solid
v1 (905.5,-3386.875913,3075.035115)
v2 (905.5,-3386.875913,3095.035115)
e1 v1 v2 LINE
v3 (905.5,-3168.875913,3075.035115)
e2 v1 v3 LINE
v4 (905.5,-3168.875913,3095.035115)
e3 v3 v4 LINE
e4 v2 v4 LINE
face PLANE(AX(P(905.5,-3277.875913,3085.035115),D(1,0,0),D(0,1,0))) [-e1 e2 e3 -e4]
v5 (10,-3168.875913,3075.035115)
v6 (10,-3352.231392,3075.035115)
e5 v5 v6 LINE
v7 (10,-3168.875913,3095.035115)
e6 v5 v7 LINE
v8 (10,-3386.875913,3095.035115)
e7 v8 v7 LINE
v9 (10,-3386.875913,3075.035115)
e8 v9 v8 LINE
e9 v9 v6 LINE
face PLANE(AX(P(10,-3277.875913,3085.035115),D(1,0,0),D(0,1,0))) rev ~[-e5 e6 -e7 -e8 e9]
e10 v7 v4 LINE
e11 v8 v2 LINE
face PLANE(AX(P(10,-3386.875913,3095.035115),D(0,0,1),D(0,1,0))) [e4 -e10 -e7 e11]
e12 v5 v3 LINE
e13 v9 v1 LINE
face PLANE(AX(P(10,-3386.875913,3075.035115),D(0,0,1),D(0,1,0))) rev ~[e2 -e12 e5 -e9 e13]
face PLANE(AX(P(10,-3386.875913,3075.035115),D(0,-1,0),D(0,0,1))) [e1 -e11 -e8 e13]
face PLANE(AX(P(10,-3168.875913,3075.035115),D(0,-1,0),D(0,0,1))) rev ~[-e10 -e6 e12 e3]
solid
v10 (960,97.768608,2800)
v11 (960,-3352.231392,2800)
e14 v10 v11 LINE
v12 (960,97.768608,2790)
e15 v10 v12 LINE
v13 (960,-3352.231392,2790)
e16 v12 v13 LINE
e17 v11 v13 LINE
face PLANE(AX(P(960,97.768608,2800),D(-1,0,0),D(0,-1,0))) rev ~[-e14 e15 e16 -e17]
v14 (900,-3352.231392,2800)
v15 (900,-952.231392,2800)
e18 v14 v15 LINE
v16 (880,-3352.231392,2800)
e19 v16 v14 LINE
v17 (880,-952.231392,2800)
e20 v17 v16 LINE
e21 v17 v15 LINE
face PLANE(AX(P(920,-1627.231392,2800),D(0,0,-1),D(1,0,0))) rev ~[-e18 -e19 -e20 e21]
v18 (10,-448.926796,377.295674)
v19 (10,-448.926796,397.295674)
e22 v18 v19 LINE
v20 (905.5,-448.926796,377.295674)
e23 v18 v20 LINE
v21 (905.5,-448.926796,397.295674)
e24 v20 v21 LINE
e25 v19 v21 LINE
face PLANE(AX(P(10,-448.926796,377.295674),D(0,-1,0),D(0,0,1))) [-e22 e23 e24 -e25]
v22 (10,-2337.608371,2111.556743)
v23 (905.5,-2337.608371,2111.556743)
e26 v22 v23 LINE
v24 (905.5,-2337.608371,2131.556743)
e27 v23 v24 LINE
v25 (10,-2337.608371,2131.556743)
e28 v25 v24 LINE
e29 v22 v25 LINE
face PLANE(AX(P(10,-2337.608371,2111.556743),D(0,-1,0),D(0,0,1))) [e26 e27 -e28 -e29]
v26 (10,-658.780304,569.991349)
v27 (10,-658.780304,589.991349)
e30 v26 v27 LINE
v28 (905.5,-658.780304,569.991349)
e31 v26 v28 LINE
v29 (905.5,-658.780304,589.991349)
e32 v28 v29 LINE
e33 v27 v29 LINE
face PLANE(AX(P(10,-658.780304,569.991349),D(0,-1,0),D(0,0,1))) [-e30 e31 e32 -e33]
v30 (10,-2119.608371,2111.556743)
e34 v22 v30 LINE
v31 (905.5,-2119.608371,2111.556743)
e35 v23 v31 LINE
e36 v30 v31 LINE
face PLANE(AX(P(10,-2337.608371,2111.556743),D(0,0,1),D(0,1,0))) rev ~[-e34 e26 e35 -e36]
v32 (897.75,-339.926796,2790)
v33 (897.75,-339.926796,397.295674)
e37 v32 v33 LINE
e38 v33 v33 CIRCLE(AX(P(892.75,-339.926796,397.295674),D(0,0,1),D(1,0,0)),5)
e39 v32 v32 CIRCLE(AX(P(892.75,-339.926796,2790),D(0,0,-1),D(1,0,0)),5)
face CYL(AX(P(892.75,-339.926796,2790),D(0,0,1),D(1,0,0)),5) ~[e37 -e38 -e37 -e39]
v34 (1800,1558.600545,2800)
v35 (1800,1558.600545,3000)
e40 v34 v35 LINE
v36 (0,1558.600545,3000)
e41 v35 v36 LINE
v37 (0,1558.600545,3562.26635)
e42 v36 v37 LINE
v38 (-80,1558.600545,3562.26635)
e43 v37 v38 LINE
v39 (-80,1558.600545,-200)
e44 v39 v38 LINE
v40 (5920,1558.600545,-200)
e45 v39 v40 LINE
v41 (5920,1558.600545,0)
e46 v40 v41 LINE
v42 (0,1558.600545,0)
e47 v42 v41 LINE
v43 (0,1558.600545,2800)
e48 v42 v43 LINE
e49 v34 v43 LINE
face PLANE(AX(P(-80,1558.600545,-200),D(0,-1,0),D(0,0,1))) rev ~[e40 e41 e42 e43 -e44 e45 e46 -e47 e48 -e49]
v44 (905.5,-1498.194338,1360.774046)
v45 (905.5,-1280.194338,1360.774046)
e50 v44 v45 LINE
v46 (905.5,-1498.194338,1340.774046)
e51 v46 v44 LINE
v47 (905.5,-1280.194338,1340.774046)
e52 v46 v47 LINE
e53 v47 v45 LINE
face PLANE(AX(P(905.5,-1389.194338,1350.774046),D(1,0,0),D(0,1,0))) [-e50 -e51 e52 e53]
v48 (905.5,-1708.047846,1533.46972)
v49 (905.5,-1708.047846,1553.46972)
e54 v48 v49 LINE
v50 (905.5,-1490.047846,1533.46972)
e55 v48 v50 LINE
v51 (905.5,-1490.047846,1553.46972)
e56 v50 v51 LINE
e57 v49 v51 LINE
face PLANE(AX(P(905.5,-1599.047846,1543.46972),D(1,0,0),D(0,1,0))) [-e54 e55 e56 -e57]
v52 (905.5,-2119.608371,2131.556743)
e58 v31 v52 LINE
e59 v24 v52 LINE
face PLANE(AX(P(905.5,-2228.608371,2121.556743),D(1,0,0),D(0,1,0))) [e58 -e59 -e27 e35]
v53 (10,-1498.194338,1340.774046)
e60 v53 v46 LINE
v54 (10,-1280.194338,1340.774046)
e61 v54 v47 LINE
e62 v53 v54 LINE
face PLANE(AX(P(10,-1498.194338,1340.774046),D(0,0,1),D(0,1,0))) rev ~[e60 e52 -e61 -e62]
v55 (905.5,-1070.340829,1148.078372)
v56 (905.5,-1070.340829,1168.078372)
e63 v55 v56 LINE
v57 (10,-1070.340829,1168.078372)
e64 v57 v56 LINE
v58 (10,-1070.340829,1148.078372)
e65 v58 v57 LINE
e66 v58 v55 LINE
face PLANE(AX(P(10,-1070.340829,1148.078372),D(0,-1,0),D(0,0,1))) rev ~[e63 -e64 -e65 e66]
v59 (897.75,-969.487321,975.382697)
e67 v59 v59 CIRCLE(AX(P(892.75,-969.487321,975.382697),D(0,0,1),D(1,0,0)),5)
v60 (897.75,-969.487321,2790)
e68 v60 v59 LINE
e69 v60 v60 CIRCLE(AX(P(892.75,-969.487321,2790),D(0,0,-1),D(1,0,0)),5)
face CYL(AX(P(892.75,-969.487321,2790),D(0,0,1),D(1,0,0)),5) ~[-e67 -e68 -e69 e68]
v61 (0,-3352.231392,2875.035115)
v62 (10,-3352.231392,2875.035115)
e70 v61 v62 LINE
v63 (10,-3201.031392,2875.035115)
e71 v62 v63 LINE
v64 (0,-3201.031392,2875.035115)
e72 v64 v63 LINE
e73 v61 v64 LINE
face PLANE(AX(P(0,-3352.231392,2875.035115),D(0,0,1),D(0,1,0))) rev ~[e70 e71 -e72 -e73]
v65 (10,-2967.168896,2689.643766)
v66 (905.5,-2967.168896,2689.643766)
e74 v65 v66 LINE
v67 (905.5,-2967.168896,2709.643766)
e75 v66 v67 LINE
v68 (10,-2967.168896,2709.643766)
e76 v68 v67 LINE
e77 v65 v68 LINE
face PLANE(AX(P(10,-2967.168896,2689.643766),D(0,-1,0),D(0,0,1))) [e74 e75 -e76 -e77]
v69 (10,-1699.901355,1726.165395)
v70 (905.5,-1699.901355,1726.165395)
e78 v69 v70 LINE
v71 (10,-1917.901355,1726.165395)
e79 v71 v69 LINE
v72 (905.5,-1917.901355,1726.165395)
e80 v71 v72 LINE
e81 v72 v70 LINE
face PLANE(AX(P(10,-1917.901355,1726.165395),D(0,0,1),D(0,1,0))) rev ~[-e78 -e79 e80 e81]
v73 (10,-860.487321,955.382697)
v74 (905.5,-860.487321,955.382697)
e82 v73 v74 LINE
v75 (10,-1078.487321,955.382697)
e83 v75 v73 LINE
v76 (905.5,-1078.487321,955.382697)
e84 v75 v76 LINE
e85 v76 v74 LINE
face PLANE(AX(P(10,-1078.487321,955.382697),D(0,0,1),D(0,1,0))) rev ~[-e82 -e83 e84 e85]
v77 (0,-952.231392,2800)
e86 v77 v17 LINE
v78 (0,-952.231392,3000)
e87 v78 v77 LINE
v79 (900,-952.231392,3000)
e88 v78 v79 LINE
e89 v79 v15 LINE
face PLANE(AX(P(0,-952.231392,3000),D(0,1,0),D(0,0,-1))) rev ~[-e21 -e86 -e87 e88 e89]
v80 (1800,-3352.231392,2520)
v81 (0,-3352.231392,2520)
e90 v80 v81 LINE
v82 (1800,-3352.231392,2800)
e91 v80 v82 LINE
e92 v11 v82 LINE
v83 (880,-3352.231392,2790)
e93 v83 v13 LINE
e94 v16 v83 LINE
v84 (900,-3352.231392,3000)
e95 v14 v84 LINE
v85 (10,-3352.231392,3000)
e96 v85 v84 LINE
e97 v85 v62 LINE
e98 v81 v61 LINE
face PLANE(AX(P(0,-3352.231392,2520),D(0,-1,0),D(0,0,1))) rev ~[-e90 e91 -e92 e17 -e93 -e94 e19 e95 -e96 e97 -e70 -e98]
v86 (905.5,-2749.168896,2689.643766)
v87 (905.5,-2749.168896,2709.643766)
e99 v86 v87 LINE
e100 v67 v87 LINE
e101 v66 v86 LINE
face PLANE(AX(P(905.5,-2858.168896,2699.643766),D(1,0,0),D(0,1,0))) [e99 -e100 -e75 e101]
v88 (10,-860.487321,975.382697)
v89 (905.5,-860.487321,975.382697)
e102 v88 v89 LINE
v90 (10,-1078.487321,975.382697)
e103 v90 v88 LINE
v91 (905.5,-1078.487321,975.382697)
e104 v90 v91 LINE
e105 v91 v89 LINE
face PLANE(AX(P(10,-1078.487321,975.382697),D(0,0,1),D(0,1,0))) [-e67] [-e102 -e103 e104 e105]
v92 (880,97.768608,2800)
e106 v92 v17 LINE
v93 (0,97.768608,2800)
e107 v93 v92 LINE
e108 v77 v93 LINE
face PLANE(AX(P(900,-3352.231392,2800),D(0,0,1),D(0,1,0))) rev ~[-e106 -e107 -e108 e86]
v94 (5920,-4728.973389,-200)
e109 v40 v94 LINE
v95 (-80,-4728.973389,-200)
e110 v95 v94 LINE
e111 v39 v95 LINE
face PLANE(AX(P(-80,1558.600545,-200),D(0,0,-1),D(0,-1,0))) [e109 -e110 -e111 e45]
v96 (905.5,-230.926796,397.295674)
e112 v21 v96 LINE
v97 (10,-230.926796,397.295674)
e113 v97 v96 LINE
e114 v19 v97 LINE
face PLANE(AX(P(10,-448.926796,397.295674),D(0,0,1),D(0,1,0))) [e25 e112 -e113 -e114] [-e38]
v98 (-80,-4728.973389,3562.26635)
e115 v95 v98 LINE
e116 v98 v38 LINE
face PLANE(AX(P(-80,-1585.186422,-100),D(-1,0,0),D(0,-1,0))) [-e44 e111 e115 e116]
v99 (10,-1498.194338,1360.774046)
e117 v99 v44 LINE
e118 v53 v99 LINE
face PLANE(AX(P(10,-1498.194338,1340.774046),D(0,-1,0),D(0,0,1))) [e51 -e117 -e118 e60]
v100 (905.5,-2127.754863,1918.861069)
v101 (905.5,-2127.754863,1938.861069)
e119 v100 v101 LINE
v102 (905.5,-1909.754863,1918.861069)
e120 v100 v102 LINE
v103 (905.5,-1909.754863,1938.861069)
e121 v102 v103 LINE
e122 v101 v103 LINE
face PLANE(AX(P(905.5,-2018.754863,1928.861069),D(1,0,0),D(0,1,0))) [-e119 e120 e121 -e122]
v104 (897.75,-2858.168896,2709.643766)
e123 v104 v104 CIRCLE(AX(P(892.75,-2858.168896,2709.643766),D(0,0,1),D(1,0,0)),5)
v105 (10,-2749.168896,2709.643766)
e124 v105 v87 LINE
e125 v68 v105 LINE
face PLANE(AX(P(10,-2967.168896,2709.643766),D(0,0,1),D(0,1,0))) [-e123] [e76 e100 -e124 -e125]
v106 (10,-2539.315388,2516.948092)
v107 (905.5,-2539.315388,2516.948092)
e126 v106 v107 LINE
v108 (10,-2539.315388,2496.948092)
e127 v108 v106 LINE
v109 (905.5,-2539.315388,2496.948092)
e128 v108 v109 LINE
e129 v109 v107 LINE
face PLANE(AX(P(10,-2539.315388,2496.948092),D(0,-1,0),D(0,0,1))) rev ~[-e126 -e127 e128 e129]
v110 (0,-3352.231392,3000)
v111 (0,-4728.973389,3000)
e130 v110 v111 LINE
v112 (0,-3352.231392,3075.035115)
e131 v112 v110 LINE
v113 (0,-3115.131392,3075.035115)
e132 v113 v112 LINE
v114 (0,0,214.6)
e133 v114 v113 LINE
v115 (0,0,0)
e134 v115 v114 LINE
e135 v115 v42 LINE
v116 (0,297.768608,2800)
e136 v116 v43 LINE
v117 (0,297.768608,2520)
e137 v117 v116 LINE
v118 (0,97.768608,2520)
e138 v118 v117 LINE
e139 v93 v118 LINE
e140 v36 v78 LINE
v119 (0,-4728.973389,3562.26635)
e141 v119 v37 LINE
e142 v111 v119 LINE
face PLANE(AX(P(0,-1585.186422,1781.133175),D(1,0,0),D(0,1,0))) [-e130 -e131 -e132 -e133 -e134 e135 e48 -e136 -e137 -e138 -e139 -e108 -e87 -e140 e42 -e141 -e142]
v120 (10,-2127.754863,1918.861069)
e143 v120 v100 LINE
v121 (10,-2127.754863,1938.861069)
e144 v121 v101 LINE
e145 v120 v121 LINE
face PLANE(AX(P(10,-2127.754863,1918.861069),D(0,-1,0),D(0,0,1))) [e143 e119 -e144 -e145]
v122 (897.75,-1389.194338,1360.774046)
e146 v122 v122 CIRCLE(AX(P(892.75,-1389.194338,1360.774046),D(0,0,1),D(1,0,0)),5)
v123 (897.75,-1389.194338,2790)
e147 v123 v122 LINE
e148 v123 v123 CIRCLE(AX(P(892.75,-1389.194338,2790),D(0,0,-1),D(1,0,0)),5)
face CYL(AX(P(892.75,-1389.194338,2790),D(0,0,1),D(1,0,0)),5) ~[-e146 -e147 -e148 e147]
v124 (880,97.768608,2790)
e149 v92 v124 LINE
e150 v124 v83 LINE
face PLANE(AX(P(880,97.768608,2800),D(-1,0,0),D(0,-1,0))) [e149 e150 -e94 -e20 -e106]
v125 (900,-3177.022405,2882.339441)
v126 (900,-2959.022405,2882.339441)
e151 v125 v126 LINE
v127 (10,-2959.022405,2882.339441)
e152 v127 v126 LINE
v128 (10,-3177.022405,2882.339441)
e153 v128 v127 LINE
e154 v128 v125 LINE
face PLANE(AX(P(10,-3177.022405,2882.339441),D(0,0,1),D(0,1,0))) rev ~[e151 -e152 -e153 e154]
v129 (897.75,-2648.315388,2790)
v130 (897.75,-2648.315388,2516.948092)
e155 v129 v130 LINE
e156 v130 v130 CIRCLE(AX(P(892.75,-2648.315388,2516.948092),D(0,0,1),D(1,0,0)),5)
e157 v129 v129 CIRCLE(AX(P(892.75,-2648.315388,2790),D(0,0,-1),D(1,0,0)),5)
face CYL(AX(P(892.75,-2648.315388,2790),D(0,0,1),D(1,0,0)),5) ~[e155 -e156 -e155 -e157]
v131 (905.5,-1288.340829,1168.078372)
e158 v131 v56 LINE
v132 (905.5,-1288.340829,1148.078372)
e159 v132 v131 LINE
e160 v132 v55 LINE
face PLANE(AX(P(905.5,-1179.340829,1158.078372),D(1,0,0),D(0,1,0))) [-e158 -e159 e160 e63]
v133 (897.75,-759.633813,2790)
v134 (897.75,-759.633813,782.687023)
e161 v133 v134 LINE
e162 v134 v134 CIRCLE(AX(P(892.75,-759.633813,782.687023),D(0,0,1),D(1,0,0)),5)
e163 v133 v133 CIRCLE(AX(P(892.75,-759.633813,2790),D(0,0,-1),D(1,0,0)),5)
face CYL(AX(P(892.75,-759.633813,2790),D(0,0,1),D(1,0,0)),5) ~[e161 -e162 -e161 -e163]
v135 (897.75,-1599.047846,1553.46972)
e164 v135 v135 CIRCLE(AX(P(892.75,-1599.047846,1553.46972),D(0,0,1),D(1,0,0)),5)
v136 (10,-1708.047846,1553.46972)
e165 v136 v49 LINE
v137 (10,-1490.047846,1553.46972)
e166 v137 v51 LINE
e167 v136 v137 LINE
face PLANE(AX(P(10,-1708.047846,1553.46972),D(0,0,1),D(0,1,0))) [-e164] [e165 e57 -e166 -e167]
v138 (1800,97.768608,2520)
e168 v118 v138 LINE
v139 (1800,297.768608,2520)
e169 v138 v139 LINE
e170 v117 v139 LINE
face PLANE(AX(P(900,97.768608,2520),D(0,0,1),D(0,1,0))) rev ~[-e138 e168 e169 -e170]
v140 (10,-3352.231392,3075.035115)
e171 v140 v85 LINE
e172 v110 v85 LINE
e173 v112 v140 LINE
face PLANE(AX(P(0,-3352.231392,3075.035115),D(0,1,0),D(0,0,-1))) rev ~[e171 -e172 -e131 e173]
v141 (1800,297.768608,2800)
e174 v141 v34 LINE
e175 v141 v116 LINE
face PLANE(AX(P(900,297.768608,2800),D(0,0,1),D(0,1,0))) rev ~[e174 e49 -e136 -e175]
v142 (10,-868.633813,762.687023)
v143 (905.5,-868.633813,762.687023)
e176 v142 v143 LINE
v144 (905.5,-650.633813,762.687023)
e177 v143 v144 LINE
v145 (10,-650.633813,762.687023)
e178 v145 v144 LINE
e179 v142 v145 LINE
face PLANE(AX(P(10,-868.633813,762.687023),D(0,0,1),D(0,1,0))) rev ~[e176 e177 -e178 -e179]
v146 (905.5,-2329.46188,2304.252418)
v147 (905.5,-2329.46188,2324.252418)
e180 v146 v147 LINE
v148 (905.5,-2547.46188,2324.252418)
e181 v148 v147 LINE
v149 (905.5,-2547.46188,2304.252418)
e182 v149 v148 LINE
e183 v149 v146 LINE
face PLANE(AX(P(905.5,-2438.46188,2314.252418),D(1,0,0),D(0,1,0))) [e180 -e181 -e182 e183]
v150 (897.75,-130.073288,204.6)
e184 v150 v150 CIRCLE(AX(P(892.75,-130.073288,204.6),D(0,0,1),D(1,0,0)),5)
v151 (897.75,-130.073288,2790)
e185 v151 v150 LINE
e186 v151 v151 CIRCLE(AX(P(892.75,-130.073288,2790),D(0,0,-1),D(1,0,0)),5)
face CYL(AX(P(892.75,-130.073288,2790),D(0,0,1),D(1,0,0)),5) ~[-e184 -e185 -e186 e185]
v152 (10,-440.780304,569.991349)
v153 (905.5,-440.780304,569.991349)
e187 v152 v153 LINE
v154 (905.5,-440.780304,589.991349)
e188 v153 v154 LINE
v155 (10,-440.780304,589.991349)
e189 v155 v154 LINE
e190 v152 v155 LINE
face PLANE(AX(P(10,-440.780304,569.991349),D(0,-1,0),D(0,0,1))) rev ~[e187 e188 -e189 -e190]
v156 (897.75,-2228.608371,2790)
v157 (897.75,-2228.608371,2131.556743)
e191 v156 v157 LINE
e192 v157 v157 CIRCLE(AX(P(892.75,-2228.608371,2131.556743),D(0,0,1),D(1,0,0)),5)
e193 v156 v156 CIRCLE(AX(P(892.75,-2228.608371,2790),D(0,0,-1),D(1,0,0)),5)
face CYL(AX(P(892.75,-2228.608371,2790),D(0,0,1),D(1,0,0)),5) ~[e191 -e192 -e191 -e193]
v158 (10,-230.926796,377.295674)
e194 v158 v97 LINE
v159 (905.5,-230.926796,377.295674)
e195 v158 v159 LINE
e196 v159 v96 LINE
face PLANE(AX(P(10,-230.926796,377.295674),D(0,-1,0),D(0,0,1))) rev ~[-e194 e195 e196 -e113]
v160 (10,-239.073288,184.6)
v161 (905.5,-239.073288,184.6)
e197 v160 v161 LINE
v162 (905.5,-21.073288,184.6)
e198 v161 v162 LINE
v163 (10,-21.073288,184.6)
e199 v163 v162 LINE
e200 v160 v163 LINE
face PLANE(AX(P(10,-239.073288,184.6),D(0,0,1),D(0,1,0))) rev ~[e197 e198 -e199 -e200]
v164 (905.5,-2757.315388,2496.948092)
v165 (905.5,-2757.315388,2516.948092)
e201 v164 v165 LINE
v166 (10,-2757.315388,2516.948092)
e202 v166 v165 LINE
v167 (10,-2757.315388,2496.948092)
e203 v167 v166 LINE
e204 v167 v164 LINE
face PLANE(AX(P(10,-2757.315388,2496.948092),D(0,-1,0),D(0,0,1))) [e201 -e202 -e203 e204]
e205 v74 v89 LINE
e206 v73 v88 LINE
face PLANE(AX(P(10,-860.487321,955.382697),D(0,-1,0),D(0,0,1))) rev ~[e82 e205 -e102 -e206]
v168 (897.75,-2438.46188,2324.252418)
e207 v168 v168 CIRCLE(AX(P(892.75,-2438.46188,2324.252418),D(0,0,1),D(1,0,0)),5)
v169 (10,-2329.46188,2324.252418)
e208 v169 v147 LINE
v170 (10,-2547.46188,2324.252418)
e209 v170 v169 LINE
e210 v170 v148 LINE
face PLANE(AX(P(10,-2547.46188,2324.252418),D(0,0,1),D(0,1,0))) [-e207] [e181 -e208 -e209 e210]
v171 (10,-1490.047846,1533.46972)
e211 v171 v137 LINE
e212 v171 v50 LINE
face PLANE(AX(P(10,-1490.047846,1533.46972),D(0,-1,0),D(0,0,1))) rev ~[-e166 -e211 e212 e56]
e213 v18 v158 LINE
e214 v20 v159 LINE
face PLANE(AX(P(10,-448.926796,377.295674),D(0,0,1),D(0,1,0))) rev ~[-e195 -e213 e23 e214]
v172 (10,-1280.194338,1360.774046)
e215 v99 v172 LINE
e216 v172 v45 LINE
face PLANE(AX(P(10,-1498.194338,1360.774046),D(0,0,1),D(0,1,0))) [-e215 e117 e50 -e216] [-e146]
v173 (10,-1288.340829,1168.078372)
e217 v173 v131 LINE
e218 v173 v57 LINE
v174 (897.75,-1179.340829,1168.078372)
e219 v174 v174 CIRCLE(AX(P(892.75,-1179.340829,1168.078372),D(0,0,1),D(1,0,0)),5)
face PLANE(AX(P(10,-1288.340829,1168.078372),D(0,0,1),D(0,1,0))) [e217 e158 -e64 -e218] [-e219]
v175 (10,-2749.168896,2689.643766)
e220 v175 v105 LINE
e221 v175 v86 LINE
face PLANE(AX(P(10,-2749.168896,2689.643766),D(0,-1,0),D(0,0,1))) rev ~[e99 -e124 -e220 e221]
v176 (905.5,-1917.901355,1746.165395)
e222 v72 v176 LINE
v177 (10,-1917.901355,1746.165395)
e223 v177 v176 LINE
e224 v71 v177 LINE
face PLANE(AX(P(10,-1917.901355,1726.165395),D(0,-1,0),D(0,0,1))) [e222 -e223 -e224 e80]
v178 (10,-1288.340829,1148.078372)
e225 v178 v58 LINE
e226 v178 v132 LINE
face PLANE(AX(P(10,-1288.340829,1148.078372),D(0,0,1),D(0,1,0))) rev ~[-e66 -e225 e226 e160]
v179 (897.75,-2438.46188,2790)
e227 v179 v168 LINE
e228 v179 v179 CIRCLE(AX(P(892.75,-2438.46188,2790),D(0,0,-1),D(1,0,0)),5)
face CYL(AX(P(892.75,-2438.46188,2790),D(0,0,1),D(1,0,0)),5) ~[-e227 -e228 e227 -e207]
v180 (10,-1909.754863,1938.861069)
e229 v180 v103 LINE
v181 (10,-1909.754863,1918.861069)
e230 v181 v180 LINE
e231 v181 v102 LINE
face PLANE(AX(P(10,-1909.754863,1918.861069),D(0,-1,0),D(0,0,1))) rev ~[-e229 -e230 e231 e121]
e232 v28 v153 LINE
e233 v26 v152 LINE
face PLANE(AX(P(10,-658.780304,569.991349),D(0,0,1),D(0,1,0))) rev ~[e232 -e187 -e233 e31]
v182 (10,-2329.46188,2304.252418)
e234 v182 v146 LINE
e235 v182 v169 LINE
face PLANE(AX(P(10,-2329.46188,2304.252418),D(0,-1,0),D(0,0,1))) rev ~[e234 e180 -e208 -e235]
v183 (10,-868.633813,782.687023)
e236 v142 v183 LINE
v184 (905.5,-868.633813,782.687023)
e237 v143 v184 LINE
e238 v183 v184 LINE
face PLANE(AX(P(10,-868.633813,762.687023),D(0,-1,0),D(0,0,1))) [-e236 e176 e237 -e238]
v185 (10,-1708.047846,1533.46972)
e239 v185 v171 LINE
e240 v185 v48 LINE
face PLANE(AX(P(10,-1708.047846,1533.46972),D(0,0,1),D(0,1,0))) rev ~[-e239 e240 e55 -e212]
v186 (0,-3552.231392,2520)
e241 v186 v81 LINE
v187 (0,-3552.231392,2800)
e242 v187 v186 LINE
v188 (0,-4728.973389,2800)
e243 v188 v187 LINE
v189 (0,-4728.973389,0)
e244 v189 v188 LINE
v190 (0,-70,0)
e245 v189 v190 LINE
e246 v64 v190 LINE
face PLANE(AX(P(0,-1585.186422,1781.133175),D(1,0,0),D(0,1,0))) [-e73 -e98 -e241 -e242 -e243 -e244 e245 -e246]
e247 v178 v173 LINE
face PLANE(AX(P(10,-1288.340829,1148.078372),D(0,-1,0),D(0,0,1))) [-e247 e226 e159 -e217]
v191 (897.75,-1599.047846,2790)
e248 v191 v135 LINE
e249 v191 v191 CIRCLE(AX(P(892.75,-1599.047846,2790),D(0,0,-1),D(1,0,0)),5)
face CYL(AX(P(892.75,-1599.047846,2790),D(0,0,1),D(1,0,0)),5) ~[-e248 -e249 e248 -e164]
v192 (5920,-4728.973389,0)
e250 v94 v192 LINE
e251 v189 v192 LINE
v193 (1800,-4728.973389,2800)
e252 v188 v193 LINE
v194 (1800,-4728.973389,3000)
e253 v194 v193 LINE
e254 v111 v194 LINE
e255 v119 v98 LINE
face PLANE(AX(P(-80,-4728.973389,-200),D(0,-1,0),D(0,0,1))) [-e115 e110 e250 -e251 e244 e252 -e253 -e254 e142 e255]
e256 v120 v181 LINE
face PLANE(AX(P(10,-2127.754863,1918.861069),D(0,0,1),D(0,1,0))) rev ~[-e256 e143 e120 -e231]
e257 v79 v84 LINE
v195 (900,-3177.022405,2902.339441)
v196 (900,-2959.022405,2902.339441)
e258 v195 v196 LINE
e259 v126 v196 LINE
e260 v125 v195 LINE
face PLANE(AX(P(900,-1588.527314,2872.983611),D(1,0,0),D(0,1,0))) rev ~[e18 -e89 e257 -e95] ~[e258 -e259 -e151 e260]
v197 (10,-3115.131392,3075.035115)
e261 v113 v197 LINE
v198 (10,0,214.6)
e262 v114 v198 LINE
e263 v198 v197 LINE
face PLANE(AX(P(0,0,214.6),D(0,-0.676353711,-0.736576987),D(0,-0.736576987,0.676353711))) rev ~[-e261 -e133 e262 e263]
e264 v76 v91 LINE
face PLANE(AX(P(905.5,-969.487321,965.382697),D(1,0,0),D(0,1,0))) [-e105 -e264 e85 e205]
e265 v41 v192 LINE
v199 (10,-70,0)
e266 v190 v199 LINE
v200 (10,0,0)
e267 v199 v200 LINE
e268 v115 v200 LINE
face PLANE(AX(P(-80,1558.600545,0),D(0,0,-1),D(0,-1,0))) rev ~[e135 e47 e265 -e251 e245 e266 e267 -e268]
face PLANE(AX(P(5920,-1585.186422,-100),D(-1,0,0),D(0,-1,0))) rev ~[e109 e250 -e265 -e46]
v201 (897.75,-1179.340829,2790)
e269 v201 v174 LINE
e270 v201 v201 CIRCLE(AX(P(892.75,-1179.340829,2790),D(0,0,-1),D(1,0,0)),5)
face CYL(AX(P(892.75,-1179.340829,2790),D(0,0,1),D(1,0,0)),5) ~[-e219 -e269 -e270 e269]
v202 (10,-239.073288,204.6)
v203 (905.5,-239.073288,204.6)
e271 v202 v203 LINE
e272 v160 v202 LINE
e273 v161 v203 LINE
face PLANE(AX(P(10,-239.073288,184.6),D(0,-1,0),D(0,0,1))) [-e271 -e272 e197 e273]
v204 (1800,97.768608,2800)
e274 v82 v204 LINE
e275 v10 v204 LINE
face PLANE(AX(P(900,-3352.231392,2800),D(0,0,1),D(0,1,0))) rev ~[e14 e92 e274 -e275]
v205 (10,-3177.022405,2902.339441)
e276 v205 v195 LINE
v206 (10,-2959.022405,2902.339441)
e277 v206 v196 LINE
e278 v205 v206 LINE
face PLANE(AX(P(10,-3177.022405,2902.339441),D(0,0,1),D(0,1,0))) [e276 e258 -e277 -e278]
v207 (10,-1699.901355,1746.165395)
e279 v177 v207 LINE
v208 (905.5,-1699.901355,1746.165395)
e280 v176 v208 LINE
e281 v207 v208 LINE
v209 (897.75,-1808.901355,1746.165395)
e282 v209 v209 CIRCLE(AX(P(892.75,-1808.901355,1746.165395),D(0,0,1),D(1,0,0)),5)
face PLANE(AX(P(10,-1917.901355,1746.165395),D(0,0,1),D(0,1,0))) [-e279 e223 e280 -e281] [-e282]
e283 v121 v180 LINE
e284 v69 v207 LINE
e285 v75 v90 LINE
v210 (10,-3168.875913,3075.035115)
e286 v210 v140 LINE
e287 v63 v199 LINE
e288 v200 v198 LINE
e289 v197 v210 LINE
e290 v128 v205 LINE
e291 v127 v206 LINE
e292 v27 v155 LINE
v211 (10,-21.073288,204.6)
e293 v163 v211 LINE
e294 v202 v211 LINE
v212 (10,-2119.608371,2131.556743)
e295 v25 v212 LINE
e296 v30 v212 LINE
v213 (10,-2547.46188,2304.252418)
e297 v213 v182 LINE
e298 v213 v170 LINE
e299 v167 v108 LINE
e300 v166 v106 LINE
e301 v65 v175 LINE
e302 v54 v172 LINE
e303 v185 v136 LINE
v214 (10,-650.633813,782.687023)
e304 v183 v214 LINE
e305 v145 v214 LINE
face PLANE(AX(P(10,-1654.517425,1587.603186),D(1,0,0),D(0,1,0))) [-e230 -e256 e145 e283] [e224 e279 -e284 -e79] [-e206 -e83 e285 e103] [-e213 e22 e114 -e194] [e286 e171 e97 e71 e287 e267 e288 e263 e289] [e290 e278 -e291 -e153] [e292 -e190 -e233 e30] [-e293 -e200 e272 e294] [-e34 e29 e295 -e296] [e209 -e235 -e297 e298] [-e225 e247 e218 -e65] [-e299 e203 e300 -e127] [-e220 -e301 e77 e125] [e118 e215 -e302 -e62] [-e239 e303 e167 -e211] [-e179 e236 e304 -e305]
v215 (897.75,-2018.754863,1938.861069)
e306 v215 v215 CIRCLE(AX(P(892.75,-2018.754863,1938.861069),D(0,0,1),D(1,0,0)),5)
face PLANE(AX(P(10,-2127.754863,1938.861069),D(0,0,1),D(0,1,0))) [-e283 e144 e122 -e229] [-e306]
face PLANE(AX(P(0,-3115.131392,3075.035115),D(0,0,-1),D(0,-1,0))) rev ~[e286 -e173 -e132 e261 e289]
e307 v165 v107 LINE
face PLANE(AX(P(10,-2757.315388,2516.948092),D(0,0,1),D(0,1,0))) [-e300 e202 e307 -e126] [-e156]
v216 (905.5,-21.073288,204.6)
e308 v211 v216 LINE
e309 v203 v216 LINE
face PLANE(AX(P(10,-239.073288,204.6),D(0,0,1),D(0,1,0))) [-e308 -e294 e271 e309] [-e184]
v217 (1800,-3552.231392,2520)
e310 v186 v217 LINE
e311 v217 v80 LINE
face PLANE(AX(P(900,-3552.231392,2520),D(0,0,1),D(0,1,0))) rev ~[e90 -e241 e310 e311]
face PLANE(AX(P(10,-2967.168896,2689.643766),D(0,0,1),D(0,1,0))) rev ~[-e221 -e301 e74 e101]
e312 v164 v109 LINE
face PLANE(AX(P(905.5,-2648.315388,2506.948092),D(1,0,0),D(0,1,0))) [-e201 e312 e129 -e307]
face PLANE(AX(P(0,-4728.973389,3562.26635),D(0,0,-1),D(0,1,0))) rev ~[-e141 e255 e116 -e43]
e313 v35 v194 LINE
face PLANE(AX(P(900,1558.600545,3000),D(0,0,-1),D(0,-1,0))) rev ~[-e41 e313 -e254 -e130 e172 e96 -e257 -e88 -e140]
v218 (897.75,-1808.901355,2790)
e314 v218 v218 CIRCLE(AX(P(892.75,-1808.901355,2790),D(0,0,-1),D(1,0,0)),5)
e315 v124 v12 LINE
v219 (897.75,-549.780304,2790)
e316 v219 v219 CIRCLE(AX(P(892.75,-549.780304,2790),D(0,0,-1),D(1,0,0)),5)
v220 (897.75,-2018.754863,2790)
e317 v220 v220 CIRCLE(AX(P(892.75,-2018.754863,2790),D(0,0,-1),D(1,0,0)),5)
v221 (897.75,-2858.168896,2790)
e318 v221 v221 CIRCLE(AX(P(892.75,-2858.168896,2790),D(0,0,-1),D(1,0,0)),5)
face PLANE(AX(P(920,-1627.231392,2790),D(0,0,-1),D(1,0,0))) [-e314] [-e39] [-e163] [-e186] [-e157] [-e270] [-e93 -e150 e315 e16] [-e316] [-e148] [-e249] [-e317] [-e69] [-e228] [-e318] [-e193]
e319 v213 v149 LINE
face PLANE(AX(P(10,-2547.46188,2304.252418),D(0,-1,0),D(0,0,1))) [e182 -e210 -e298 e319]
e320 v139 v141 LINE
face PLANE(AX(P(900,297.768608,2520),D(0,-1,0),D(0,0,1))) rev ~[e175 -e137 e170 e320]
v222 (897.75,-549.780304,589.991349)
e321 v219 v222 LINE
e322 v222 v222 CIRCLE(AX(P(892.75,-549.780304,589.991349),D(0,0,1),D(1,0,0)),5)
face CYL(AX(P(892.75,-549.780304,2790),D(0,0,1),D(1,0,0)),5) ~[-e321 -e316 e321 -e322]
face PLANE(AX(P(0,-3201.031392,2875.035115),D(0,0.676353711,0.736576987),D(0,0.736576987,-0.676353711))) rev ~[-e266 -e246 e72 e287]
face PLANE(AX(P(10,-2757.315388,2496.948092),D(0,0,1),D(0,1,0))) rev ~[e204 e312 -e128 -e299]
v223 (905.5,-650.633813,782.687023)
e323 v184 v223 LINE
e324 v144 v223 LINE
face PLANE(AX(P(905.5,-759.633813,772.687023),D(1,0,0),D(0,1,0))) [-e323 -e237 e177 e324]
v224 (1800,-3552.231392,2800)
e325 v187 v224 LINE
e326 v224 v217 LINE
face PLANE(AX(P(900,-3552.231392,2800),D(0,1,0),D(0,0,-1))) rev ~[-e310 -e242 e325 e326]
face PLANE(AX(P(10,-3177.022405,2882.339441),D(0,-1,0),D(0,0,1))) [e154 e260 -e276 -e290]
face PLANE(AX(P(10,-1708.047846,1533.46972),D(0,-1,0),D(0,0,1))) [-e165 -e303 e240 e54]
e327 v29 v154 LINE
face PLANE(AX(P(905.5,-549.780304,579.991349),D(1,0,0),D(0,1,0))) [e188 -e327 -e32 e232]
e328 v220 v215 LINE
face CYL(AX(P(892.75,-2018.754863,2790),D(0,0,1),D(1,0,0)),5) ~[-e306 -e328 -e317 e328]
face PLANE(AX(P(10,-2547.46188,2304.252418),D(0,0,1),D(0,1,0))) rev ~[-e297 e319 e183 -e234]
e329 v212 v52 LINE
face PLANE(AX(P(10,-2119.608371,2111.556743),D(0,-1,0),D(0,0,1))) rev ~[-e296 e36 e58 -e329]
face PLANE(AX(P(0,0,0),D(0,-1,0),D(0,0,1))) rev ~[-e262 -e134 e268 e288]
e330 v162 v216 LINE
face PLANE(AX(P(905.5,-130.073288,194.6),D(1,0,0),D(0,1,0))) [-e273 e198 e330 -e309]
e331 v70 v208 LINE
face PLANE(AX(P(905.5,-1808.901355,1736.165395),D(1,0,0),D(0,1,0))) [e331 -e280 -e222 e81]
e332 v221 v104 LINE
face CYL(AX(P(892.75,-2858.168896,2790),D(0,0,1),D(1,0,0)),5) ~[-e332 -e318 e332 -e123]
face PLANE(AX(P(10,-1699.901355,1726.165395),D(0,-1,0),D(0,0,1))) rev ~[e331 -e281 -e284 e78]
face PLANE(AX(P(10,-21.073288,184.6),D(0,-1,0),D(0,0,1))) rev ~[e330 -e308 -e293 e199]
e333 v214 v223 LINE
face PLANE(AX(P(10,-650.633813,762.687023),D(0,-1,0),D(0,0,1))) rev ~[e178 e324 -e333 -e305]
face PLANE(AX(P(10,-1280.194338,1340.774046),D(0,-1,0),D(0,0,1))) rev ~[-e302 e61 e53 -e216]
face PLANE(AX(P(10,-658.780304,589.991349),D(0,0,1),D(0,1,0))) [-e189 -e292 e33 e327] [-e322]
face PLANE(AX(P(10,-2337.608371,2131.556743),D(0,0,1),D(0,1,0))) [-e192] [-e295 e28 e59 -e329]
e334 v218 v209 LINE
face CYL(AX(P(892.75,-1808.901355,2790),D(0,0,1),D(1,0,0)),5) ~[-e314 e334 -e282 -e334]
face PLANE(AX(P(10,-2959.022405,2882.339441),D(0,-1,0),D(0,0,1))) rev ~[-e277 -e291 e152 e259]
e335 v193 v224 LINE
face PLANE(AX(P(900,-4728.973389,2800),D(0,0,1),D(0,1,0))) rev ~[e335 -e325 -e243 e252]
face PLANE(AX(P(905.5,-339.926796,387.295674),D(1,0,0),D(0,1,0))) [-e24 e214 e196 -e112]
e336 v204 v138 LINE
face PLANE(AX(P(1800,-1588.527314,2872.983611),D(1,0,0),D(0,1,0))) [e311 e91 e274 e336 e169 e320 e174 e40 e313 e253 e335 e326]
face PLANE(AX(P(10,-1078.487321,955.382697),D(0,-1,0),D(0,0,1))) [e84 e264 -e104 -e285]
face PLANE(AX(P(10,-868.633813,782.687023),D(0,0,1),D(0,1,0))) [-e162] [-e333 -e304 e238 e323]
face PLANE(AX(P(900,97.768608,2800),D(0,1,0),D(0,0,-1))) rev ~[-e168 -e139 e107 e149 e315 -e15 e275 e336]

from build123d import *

# Parameters (mm, degrees)
F1_DEPTH  = 10
F2_W      = 6287.5739336014
F2_H      = 3562.2663497925
F3_DEPTH  = 80
F5_W      = 218
F5_H      = 20
F6_DEPTH  = 895.5
F8_DEPTH  = 900
F10_DEPTH = 900
F11_W     = 80
F11_H     = 3450
F12_DEPTH = 10
F13_R     = 5
F15_W     = 6287.5739336014
F15_H     = 200
F16_DEPTH = 6000


with BuildPart() as f1:
    # F0 (on Right) → F1 (new body)
    with BuildSketch(Plane.YZ):
        Polygon((-3352.2313924666, 2875.0351150951), (-3201.0313924666, 2875.0351150951), (-70, 0), (0, 0), (0, 214.6), (-3115.1313924666, 3075.0351150951), (-3352.2313924666, 3075.0351150951), align=None)
    extrude(amount=F1_DEPTH)

    # F2 (on Right) → F3 (join)
    with BuildSketch(Plane.YZ):
        with Locations((-1585.1864218712, 1781.1331748962)):
            Rectangle(F2_W, F2_H)
    extrude(amount=-F3_DEPTH)

    # F5 (on face) → F6 (join)
    with BuildSketch(Plane.YZ.offset(10)):
        with Locations((-130.0732876712, 194.6)):
            Rectangle(F5_W, F5_H)
        with Locations((-339.9267960275, 387.2956743397)):
            Rectangle(F5_W, F5_H)
        with Locations((-549.7803043837, 579.9913486793)):
            Rectangle(F5_W, F5_H)
        with Locations((-759.6338127399, 772.687023019)):
            Rectangle(F5_W, F5_H)
        with Locations((-969.4873210961, 965.3826973587)):
            Rectangle(F5_W, F5_H)
        with Locations((-1179.3408294523, 1158.0783716984)):
            Rectangle(F5_W, F5_H)
        with Locations((-1389.1943378086, 1350.774046038)):
            Rectangle(F5_W, F5_H)
        with Locations((-1599.0478461648, 1543.4697203777)):
            Rectangle(F5_W, F5_H)
        with Locations((-1808.901354521, 1736.1653947174)):
            Rectangle(F5_W, F5_H)
        with Locations((-2018.7548628772, 1928.8610690571)):
            Rectangle(F5_W, F5_H)
        with Locations((-2228.6083712334, 2121.5567433967)):
            Rectangle(F5_W, F5_H)
        with Locations((-2438.4618795897, 2314.2524177364)):
            Rectangle(F5_W, F5_H)
        with Locations((-2648.3153879459, 2506.9480920761)):
            Rectangle(F5_W, F5_H)
        with Locations((-2858.1688963021, 2699.6437664158)):
            Rectangle(F5_W, F5_H)
        with Locations((-3068.0224046583, 2892.3394407554)):
            Rectangle(F5_W, F5_H)
        with Locations((-3277.8759130145, 3085.0351150951)):
            Rectangle(F5_W, F5_H)
    extrude(amount=F6_DEPTH)

    # F7 (on face) → F8 (join)
    with BuildSketch(Plane.YZ):
        Polygon((-3352.2313924666, 3000), (-4728.9733886719, 3000), (-4728.9733886719, 2800), (-3552.2313924666, 2800), (-3552.2313924666, 2520), (-3352.2313924666, 2520), align=None)
        Polygon((1558.6005449295, 3000), (-952.2313924666, 3000), (-952.2313924666, 2800), (97.7686075334, 2800), (97.7686075334, 2520), (297.7686075334, 2520), (297.7686075334, 2800), (1558.6005449295, 2800), align=None)
    extrude(amount=F8_DEPTH)

    # F9 (on face) → F10 (join)
    with BuildSketch(Plane.YZ.offset(900)):
        Polygon((1558.6005449295, 3000), (-4728.9733886719, 3000), (-4728.9733886719, 2800), (-3552.2313924666, 2800), (-3552.2313924666, 2520), (-3352.2313924666, 2520), (-3352.2313924666, 2800), (97.7686075334, 2800), (97.7686075334, 2520), (297.7686075334, 2520), (297.7686075334, 2800), (1558.6005449295, 2800), align=None)
    extrude(amount=F10_DEPTH)

    # F11 (on face) → F12 (join)
    with BuildSketch(Plane(origin=(0, 0, 2800), x_dir=(1, 0, 0), z_dir=(0, 0, -1))):
        with Locations((920, 1627.2313924666)):
            Rectangle(F11_W, F11_H)
    extrude(amount=F12_DEPTH)

    # F13 (on face) → F14 (join, up to the next surface of F1)
    with BuildSketch(Plane(origin=(0, 0, 2790), x_dir=(1, 0, 0), z_dir=(0, 0, -1))):
        with Locations((892.75, 2858.1688963021)):
            Circle(F13_R)
        with Locations((892.75, 2648.3153879459)):
            Circle(F13_R)
        with Locations((892.75, 2438.4618795897)):
            Circle(F13_R)
        with Locations((892.75, 2228.6083712334)):
            Circle(F13_R)
        with Locations((892.75, 2018.7548628772)):
            Circle(F13_R)
        with Locations((892.75, 1808.901354521)):
            Circle(F13_R)
        with Locations((892.75, 1599.0478461648)):
            Circle(F13_R)
        with Locations((892.75, 1389.1943378086)):
            Circle(F13_R)
        with Locations((892.75, 1179.3408294523)):
            Circle(F13_R)
        with Locations((892.75, 969.4873210961)):
            Circle(F13_R)
        with Locations((892.75, 759.6338127399)):
            Circle(F13_R)
        with Locations((892.75, 549.7803043837)):
            Circle(F13_R)
        with Locations((892.75, 339.9267960275)):
            Circle(F13_R)
        with Locations((892.75, 130.0732876712)):
            Circle(F13_R)
    extrude(until=Until.NEXT)

    # F15 (on face) → F16 (join)
    with BuildSketch(Plane(origin=(-80, 0, 0), x_dir=(0, -1, 0), z_dir=(-1, 0, 0))):
        with Locations((1585.1864218712, -100)):
            Rectangle(F15_W, F15_H)
    extrude(amount=-F16_DEPTH)


solid = f1.part
